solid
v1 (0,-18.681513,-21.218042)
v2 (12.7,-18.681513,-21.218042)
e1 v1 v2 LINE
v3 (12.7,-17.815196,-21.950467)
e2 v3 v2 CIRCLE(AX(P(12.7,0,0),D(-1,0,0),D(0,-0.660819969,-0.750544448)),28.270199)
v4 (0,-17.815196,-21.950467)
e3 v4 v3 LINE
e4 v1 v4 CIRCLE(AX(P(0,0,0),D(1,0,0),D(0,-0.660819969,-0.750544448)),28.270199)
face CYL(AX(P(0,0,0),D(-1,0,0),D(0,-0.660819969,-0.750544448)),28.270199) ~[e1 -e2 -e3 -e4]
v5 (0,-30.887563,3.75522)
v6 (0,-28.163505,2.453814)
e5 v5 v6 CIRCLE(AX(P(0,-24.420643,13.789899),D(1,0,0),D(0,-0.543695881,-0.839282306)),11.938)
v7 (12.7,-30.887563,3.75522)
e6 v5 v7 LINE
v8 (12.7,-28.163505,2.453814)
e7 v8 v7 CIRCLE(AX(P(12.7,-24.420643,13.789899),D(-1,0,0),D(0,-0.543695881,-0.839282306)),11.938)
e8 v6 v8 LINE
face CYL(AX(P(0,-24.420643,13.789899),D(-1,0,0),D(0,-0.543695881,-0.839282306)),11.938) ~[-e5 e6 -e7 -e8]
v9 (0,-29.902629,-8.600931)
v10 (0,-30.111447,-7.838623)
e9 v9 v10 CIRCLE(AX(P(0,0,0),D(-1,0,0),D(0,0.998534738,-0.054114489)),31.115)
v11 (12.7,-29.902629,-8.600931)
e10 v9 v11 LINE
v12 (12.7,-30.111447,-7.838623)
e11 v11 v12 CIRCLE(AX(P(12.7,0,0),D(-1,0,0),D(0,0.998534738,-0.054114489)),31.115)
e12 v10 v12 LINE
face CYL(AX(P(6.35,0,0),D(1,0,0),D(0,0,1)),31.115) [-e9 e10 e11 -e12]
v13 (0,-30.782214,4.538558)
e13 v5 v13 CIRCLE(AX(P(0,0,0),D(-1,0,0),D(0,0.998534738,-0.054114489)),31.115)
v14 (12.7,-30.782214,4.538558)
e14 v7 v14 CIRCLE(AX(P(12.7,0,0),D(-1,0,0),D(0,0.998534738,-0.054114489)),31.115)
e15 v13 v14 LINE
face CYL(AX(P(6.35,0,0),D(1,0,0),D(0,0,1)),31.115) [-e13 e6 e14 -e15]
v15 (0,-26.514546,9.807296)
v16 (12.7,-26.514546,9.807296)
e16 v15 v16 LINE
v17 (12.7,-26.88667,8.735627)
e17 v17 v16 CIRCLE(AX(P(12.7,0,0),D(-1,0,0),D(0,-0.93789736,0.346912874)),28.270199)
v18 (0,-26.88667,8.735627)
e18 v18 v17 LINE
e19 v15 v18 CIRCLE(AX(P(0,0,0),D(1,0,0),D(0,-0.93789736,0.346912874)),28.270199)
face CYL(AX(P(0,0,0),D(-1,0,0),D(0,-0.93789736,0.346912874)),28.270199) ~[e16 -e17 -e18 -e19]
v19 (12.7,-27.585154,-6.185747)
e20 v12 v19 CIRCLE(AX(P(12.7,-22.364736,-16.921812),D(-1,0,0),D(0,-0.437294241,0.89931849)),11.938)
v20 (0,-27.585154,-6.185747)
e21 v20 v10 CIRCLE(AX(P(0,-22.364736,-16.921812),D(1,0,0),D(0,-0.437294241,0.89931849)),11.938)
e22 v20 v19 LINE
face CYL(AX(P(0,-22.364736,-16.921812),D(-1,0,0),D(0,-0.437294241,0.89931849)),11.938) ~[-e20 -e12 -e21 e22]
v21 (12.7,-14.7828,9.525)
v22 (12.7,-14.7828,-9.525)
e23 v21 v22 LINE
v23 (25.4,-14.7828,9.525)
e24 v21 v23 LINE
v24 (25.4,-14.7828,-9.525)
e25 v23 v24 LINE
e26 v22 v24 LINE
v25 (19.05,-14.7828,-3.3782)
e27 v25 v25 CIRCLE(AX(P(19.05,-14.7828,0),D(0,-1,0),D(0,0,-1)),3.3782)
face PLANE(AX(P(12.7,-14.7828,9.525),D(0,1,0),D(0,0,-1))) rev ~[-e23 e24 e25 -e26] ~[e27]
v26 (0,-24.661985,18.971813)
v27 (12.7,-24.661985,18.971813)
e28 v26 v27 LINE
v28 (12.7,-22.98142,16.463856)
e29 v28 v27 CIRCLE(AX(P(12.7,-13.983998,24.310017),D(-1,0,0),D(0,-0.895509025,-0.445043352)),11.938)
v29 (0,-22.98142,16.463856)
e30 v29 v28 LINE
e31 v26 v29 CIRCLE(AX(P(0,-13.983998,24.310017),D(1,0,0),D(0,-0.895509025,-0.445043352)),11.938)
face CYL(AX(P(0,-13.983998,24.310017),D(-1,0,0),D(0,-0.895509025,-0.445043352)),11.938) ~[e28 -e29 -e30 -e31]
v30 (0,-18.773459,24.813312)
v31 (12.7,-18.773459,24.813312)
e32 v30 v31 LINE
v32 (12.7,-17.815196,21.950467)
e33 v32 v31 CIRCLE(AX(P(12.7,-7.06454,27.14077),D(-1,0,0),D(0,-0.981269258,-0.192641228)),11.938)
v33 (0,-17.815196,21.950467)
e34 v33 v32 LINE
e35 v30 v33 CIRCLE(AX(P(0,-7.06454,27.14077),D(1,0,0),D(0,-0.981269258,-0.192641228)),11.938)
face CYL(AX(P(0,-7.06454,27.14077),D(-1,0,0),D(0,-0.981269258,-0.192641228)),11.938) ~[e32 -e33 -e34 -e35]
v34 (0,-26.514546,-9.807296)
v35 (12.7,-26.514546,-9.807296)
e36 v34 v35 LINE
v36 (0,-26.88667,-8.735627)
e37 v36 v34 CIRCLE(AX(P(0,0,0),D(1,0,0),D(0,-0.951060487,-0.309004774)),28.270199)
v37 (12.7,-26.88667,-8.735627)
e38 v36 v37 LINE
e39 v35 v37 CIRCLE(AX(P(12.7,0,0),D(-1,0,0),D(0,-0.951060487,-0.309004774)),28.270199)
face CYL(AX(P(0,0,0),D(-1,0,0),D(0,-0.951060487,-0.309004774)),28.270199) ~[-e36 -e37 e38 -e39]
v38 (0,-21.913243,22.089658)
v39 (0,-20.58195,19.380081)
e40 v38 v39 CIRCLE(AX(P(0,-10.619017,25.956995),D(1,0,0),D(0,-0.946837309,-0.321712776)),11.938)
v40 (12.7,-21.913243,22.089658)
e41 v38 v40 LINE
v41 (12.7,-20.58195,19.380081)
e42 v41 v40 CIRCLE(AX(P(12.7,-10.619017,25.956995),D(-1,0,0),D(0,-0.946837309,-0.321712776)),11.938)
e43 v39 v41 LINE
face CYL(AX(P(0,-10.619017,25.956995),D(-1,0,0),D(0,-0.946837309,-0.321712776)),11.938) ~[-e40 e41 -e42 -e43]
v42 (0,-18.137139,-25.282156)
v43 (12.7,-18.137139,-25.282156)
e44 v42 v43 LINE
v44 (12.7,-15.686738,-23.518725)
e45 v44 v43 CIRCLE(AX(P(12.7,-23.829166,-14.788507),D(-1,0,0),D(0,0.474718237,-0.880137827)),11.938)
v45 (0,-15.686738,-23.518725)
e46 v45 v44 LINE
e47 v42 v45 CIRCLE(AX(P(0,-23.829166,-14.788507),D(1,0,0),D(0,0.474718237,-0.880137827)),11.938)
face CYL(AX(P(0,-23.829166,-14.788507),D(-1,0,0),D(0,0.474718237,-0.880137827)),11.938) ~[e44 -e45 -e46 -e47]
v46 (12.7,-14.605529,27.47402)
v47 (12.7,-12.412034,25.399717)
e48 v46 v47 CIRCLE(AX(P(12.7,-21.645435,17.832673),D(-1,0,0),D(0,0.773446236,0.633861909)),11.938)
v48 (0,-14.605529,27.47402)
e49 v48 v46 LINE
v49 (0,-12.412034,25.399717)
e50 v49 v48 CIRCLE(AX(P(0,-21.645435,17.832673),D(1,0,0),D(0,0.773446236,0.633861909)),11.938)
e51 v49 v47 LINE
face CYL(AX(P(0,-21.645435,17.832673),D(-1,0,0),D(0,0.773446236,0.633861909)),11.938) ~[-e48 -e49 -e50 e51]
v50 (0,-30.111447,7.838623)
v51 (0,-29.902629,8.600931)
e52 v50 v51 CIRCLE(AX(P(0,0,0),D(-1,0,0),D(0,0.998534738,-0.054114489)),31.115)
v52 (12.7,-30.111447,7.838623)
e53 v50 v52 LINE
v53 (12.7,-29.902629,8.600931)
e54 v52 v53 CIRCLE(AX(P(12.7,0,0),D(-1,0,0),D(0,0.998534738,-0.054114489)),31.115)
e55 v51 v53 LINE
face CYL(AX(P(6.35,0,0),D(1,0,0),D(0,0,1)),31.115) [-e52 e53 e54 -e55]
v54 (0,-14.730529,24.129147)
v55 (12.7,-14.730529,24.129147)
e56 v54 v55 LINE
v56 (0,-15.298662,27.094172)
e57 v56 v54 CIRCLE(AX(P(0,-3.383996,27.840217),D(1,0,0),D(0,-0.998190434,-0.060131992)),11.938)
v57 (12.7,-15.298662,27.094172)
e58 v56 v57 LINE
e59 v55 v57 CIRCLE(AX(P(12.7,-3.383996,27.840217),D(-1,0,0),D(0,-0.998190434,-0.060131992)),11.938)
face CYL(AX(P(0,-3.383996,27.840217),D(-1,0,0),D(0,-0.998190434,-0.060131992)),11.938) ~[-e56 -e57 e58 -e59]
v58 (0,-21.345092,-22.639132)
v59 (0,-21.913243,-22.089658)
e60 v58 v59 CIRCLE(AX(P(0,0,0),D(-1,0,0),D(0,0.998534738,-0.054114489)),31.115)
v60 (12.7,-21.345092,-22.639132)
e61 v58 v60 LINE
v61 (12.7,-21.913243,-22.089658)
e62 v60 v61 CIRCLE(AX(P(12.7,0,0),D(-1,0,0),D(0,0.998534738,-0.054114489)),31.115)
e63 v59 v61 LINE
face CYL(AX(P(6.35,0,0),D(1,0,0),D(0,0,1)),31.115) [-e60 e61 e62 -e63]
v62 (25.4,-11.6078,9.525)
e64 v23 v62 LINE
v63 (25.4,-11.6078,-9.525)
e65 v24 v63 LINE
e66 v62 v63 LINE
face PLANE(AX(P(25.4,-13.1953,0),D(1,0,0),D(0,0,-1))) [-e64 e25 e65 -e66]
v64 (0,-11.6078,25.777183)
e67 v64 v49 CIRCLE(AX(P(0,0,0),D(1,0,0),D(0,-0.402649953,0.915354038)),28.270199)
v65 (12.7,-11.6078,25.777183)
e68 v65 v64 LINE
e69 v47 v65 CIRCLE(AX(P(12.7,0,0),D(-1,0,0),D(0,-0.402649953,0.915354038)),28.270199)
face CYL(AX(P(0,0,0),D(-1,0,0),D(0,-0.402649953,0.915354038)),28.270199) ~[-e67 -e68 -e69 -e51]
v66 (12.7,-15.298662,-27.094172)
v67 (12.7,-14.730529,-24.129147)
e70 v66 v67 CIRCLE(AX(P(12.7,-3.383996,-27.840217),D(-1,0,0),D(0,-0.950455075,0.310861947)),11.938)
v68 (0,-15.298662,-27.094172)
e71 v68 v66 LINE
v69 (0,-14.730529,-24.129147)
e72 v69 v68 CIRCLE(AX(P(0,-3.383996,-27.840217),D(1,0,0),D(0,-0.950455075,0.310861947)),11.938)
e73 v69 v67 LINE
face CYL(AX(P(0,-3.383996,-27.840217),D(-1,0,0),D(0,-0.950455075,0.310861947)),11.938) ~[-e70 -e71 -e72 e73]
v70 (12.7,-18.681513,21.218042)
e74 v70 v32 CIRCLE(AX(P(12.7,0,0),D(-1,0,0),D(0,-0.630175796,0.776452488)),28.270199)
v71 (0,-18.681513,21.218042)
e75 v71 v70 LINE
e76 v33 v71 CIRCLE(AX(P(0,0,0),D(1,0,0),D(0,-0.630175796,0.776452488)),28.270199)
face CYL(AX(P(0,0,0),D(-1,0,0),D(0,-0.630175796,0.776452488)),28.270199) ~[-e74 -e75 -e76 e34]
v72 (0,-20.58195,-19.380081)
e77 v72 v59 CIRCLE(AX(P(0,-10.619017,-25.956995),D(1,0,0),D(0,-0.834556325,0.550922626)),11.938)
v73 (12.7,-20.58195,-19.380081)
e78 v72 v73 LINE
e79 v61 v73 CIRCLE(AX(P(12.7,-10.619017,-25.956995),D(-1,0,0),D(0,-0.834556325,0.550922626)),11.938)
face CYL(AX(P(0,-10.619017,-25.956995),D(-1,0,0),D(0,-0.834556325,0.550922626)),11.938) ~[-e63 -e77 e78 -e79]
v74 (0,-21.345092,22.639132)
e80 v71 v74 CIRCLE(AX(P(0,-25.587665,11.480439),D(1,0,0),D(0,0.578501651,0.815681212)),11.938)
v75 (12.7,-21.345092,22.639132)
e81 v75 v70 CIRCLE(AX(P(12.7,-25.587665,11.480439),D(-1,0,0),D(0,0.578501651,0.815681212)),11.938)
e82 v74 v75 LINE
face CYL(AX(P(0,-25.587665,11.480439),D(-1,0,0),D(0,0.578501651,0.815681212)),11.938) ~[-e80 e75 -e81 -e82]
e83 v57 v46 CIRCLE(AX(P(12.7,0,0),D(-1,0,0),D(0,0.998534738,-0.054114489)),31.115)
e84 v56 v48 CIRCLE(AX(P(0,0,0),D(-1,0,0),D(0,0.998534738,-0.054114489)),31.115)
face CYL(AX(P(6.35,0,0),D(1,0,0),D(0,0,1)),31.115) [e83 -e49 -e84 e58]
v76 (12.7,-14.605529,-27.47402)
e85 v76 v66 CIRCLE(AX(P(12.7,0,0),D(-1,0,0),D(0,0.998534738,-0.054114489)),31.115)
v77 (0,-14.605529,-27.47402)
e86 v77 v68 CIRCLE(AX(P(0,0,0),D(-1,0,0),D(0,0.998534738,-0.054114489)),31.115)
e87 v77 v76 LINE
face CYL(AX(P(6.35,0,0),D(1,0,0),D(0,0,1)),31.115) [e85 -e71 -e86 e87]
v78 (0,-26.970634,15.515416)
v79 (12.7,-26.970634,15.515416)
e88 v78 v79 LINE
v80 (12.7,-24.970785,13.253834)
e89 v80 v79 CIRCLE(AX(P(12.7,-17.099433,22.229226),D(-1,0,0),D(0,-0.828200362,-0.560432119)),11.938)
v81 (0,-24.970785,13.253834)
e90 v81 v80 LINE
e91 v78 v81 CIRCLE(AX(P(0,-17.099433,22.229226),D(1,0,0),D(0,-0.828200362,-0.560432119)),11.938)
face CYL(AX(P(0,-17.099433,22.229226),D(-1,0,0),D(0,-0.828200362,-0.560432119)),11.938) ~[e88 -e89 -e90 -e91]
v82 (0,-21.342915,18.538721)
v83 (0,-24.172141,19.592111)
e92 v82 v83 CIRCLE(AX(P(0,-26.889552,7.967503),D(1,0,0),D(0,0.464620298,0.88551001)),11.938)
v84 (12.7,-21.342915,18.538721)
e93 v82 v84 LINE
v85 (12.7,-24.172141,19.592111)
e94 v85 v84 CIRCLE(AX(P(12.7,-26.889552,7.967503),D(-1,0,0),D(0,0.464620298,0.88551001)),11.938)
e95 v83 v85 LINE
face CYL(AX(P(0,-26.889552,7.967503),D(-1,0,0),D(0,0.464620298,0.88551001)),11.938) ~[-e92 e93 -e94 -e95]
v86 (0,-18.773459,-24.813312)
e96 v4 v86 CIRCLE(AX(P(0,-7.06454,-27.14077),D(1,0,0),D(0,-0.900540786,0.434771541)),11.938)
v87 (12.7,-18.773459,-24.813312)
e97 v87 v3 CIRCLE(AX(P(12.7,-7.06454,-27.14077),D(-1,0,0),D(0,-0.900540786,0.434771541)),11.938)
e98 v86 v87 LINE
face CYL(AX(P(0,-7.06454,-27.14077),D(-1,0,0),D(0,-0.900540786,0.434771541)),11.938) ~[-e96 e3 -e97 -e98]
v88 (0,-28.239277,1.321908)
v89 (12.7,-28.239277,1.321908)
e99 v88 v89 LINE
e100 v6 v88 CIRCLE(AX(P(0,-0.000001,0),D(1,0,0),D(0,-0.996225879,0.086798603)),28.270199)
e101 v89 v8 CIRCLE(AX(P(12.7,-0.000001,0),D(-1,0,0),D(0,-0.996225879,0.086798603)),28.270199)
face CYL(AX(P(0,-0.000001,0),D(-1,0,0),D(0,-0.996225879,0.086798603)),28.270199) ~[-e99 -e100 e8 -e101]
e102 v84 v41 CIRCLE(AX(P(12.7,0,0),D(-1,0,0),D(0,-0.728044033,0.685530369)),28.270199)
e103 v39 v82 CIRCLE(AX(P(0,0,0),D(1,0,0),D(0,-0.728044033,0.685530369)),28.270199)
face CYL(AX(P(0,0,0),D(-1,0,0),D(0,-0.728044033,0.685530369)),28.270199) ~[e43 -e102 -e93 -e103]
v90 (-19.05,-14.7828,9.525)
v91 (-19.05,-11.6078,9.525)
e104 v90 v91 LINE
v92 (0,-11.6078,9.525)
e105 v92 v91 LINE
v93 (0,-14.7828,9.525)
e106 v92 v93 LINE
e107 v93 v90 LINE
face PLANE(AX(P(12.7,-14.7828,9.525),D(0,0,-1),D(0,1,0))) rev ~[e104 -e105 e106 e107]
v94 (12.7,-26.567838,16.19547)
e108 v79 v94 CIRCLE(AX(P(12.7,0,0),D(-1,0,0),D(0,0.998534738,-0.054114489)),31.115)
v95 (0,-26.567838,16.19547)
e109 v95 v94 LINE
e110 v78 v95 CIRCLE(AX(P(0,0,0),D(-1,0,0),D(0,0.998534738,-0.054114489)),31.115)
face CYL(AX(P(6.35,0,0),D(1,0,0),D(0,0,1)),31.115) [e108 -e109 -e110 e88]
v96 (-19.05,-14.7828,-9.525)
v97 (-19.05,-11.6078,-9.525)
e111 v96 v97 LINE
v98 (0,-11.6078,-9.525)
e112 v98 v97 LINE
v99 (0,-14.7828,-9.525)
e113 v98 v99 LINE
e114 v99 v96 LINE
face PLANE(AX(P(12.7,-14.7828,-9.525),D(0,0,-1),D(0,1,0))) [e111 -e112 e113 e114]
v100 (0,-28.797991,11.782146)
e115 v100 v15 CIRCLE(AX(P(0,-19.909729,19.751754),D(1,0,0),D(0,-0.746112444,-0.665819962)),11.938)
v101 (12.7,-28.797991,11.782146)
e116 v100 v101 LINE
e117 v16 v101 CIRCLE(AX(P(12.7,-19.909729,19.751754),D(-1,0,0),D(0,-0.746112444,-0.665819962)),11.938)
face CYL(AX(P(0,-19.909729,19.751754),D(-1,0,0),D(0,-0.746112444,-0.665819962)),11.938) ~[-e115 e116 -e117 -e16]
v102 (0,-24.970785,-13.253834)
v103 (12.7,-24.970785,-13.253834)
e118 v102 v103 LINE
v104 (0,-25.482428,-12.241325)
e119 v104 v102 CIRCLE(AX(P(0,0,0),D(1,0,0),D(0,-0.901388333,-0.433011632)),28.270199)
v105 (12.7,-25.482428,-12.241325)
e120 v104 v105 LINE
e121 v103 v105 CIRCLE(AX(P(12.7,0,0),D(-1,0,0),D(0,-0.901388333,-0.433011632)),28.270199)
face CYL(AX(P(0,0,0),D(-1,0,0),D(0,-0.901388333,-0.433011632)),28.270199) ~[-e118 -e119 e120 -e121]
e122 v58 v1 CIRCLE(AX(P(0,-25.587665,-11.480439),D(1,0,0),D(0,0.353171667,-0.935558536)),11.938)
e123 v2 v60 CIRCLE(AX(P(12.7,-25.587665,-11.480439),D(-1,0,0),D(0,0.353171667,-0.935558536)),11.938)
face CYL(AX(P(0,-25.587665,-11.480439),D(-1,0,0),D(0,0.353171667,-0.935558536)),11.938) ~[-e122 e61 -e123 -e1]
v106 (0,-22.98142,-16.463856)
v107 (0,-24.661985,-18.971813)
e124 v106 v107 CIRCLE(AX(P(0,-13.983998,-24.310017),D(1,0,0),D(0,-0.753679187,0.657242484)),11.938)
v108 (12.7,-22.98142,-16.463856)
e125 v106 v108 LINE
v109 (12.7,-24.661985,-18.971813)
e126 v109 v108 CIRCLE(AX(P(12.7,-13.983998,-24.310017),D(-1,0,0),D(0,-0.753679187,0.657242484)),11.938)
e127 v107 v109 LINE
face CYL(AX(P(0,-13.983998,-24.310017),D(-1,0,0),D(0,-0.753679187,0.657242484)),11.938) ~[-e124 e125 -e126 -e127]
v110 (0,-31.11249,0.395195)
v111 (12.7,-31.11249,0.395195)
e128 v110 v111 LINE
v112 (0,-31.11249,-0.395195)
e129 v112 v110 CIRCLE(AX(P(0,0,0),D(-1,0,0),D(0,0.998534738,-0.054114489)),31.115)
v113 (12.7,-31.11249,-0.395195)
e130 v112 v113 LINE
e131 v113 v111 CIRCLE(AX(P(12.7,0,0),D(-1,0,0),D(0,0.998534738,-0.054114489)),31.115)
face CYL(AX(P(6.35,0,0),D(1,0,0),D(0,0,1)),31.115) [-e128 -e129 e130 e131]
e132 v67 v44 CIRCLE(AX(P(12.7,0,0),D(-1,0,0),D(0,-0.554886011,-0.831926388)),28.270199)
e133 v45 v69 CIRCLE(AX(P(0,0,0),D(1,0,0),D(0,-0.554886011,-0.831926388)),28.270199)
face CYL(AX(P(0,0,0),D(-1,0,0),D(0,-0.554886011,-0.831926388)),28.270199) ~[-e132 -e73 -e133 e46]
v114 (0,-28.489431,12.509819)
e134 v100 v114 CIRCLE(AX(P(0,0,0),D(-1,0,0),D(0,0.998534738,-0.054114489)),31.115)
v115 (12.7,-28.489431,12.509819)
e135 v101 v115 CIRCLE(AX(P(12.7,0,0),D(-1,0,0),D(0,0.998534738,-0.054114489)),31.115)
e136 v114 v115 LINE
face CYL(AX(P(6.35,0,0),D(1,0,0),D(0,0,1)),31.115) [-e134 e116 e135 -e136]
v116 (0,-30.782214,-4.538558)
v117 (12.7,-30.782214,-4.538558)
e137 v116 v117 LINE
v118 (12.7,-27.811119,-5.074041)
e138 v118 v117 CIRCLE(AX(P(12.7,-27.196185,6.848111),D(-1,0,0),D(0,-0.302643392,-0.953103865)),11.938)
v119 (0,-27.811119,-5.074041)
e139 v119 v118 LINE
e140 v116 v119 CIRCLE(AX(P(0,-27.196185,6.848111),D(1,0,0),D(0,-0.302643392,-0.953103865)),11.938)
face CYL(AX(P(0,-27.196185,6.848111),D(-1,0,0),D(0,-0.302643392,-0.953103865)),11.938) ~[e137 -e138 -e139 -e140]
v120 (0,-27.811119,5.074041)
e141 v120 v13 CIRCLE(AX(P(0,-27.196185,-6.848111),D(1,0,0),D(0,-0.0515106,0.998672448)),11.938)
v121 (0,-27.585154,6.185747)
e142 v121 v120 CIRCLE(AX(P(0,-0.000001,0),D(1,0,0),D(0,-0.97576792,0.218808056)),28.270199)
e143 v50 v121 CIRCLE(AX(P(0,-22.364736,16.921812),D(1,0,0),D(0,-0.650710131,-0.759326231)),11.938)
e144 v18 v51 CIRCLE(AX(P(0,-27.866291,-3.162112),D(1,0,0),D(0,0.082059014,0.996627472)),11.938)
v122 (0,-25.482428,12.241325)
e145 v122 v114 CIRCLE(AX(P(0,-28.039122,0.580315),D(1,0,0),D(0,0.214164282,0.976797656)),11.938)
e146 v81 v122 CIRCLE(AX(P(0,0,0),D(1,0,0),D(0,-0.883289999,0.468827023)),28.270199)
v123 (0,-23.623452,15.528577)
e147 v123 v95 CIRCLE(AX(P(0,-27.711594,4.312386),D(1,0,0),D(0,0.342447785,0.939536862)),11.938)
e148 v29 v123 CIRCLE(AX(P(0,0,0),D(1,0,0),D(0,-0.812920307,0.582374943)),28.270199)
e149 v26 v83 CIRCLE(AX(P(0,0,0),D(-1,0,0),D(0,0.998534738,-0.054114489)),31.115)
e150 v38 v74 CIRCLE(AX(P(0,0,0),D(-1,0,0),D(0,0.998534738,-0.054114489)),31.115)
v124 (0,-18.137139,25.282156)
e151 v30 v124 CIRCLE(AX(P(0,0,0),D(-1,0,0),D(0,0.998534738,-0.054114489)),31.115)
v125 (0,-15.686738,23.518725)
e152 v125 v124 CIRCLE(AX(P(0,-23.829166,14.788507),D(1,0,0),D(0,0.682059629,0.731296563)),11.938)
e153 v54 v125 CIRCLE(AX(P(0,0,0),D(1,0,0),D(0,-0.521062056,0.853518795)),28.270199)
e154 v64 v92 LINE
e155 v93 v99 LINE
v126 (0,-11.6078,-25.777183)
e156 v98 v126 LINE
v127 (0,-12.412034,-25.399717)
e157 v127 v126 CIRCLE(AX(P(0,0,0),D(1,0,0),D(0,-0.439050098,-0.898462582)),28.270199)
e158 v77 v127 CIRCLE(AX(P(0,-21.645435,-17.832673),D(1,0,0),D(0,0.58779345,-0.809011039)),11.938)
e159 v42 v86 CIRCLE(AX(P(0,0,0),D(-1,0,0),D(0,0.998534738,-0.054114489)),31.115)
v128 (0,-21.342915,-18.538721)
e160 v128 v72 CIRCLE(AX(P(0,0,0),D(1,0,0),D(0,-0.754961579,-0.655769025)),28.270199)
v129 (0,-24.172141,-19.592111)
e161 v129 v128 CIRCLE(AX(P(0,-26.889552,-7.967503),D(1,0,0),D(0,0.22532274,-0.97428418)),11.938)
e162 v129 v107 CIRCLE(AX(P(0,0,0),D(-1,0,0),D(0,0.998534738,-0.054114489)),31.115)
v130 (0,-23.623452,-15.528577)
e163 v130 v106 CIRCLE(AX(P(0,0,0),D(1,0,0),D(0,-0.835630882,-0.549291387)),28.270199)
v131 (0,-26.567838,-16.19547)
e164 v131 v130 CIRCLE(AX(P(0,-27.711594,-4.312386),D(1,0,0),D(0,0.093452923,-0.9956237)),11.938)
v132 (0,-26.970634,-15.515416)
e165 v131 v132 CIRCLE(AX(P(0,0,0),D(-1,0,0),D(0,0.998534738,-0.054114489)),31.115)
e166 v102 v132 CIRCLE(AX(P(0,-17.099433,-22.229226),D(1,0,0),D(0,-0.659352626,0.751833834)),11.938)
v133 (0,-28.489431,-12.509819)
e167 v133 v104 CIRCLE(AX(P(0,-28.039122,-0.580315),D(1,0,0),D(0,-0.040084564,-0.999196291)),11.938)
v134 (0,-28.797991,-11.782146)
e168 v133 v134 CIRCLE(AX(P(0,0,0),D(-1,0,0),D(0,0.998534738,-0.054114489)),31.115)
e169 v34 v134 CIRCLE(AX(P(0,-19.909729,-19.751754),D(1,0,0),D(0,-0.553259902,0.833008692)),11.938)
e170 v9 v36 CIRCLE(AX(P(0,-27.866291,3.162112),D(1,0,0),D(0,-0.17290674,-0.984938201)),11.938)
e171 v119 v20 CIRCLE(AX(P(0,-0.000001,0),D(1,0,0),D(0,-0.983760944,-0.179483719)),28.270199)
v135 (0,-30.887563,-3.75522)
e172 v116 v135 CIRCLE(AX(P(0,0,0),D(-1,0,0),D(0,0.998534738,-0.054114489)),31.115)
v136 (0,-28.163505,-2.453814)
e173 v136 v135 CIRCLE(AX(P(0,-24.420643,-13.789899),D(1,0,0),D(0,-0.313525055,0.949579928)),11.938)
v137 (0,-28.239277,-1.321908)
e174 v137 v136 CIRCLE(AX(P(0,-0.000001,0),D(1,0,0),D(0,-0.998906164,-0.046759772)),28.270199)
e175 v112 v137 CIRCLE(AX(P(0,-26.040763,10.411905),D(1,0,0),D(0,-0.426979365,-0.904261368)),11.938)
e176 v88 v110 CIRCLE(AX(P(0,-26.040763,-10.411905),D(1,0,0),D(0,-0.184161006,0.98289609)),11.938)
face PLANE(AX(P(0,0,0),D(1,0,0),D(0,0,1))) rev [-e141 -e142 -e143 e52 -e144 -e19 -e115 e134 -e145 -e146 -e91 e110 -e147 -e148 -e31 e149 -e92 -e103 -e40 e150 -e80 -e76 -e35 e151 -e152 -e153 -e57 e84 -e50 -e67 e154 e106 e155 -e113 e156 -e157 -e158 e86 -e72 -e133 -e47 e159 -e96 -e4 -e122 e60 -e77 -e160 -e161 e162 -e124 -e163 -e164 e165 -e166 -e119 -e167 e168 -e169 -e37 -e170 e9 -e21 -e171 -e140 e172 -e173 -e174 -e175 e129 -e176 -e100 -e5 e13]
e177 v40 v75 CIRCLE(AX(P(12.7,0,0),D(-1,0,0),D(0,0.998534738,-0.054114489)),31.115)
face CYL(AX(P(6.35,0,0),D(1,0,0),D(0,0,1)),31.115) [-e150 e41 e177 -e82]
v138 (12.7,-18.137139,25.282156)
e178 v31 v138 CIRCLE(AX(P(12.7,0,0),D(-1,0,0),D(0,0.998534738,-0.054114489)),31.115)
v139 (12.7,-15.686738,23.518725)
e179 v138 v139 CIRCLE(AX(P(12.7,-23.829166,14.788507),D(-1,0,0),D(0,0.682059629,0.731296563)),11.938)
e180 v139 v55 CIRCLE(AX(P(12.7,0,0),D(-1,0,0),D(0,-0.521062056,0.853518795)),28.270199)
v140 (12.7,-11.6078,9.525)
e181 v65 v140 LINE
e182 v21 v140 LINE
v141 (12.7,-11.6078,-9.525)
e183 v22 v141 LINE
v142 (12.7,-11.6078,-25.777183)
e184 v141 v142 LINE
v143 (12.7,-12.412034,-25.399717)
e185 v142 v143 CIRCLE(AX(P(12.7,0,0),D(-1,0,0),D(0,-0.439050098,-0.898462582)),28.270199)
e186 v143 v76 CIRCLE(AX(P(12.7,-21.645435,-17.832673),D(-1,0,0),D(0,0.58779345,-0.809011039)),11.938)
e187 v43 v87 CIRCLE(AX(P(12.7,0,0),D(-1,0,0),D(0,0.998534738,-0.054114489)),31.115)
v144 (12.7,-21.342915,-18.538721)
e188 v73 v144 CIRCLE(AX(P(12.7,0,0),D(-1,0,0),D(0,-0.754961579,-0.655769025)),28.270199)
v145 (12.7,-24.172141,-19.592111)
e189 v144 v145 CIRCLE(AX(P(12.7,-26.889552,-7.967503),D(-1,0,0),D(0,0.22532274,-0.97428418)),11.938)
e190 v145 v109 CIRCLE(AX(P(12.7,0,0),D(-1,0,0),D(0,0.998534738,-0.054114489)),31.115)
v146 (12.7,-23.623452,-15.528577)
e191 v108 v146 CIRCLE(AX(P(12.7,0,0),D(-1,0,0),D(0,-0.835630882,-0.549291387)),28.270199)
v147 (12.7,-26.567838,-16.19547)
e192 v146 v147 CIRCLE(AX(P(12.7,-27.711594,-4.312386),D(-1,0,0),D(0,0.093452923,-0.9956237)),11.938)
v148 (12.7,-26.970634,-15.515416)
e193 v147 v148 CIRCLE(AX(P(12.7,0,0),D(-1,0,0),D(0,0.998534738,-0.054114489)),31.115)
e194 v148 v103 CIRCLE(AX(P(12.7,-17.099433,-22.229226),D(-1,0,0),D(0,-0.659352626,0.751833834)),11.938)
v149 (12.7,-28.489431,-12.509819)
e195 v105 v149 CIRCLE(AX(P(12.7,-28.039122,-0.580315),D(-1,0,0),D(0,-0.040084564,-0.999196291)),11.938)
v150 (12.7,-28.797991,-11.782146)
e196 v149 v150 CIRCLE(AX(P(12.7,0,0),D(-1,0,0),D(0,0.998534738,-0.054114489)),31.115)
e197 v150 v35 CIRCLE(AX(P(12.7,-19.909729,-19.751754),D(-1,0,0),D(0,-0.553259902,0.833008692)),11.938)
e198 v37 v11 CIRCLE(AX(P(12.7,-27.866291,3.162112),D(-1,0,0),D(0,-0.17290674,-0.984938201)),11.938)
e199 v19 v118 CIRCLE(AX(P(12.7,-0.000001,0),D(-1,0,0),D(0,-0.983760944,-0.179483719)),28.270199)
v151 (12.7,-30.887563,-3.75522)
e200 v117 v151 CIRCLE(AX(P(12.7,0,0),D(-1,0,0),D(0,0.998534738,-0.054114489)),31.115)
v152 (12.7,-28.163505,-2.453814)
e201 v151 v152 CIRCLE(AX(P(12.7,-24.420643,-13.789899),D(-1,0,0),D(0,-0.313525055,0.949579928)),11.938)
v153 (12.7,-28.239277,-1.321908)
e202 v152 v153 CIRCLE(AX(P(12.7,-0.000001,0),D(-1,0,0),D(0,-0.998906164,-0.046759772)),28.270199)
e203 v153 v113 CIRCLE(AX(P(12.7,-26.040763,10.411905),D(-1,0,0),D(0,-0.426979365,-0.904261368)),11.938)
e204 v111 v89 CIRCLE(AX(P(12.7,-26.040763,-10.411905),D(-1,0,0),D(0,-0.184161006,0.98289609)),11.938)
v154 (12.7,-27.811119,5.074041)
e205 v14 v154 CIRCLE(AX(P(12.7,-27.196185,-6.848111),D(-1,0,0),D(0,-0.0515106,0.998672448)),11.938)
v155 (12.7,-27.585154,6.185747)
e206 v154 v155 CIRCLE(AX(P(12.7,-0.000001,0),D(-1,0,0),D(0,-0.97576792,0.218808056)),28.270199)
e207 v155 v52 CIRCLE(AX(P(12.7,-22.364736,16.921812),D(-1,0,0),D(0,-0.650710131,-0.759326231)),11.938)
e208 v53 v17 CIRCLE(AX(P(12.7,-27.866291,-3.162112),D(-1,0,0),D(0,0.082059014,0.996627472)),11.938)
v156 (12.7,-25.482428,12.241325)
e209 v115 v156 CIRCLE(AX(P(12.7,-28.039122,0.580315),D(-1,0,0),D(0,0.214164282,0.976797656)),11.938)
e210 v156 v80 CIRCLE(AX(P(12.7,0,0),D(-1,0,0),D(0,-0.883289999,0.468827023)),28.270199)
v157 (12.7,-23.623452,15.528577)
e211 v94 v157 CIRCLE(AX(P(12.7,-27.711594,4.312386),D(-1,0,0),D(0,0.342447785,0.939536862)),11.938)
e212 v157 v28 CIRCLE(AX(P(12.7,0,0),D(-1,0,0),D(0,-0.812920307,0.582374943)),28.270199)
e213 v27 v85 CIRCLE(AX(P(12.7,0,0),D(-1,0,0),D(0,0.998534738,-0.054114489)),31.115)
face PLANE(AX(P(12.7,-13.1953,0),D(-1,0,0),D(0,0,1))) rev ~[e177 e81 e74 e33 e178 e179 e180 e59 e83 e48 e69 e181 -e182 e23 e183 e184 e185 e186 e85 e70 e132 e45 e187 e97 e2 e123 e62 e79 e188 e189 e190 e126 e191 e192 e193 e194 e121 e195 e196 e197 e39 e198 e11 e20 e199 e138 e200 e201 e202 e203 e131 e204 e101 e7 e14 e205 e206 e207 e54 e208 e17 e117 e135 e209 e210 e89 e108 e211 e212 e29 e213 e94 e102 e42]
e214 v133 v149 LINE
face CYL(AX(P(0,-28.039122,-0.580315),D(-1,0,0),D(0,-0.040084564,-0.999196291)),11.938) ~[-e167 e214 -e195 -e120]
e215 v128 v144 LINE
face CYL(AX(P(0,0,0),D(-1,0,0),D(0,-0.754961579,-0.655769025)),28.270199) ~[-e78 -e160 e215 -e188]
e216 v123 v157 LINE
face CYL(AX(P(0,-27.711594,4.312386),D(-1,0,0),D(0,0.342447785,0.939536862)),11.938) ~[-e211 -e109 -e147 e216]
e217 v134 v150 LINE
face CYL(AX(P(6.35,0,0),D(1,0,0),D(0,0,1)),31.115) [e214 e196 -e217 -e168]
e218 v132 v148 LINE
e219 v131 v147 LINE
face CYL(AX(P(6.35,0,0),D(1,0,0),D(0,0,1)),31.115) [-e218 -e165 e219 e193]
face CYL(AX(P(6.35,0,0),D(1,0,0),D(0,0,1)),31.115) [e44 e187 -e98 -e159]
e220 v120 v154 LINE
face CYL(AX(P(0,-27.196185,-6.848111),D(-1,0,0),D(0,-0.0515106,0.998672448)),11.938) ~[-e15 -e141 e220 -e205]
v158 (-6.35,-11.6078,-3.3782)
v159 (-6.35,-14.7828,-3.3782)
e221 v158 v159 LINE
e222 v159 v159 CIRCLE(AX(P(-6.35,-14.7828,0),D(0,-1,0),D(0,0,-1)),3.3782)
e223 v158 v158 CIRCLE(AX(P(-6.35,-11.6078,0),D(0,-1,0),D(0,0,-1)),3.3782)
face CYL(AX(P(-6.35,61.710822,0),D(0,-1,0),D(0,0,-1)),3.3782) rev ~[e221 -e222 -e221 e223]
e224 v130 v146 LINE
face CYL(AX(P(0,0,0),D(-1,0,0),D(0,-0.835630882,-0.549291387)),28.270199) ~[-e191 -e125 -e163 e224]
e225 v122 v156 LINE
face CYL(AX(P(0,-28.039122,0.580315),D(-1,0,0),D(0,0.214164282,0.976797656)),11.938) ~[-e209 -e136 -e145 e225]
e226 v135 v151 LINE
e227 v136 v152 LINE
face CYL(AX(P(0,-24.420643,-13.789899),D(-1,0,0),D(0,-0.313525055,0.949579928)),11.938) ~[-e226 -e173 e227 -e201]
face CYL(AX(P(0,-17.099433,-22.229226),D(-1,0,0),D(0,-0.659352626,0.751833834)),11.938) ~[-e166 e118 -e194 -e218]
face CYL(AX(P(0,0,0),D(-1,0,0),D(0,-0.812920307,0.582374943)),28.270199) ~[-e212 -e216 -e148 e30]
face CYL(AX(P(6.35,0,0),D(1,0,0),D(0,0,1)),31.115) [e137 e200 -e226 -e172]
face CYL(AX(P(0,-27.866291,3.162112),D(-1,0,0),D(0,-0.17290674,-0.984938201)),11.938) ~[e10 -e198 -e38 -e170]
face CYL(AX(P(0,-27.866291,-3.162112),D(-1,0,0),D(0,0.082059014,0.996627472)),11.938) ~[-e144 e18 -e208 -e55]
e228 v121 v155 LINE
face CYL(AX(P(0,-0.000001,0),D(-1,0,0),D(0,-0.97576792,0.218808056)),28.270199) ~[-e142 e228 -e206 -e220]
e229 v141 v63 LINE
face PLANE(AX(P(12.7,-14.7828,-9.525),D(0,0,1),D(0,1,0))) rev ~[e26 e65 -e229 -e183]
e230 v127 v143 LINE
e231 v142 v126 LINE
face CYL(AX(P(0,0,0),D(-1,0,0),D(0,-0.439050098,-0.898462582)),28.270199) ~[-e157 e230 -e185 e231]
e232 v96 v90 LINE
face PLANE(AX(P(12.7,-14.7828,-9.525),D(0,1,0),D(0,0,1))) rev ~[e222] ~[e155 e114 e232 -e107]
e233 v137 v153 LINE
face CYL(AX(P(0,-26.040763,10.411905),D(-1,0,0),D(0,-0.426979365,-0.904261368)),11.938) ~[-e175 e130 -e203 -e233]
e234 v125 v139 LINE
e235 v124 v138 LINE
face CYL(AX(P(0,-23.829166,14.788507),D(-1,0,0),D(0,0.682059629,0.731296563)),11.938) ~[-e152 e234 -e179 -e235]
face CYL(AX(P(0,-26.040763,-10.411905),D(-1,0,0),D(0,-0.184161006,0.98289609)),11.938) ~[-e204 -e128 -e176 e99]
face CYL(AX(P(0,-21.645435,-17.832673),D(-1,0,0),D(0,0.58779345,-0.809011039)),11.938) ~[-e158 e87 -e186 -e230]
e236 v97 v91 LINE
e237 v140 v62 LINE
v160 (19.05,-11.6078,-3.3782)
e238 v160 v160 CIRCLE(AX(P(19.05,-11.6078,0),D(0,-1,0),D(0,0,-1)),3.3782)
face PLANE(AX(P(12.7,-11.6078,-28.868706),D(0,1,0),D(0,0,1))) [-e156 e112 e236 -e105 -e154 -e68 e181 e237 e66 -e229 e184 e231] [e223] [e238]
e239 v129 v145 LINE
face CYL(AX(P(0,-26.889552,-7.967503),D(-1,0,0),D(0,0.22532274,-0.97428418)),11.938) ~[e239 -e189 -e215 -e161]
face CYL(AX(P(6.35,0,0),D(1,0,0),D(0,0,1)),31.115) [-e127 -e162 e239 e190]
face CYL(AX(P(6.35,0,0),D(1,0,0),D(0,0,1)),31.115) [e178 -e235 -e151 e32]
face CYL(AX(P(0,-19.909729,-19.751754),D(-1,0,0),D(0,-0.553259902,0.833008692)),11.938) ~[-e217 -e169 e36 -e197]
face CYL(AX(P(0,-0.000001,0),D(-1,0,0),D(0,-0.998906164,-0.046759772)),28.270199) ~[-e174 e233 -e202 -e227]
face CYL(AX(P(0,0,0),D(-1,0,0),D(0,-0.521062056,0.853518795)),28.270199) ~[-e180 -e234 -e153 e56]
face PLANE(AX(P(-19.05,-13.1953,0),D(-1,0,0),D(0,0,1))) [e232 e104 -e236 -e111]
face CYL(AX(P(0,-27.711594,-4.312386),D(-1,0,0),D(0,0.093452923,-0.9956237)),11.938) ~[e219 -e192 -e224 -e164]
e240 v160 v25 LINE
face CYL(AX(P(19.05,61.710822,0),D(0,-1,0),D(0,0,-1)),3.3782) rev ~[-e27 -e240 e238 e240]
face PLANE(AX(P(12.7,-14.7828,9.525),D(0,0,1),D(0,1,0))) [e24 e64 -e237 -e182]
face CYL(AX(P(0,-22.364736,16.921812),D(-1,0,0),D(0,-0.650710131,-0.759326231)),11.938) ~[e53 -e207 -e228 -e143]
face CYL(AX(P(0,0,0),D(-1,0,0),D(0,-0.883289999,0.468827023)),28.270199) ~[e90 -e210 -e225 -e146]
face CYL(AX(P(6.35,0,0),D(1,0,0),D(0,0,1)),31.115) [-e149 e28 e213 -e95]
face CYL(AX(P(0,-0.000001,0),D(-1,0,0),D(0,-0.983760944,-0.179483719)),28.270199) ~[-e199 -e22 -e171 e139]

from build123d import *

# Parameters (mm, degrees)
BASPROSKE_W              = 12.7
BASPROSKE_H              = 31.115
TOOTHCUT_DEPTH           = 46.799306217
TEETHCUTS_COUNT          = 47
TEETHCUTS_ANGLE          = 352.340425532
BORSKE_R                 = 1.5875
BORE_DEPTH               = 50.8000508
CUT_EXTRUDE2_DEPTH       = 46.794769115
BOSS_EXTRUDE1_DEPTH      = 19.05
BOSS_EXTRUDE1_DEPTH_BACK = 12.7
SKETCH2_W                = 19.05
SKETCH2_H                = 3.175
SKETCH4_W                = 19.05
SKETCH4_H                = 3.175
BOSS_EXTRUDE2_DEPTH      = 12.7
F_1_4_CLEARANCE_HOLE1_D  = 6.7564


with BuildPart() as part:
    # BasProSke → Base-Revolve (revolve)
    with BuildSketch(Plane(origin=(0, 0, 0), x_dir=(1, 0, 0), z_dir=(0, 1, 0)), mode=Mode.PRIVATE) as base_revolve_sk:
        with Locations((6.35, 15.5575)):
            Rectangle(BASPROSKE_W, BASPROSKE_H)
    revolve(base_revolve_sk.sketch.rotate(Axis((-10, 0, 0), (1, 0, 0)), 180), axis=Axis((-10, 0, 0), (1, 0, 0)))

    # TooCutSke → ToothCut (cut, through all)
    with BuildSketch(Plane(origin=(0, 0, 0), x_dir=(0, 0, -1), z_dir=(1, 0, 0))):
        with BuildLine():
            ThreePointArc((0.567219539, 28.264509018), (0, 28.2702), (-0.567219539, 28.264509018))
            ThreePointArc((-0.567219539, 28.264509018), (-1.041703705, 29.715512743), (-1.697480705, 31.094100267))
            ThreePointArc((-1.697480705, 31.094100267), (0, 31.1404), (1.697480705, 31.094100267))
            ThreePointArc((1.697480705, 31.094100267), (1.041703705, 29.715512743), (0.567219539, 28.264509018))
        make_face()
    toothcut = extrude(amount=TOOTHCUT_DEPTH, mode=Mode.SUBTRACT)

    # TeethCuts: ToothCut ×47 about axis
    teethcuts_axis = Axis((-10, 0, 0), (1, 0, 0))
    for i in range(1, TEETHCUTS_COUNT):
        add(toothcut.rotate(teethcuts_axis, i * TEETHCUTS_ANGLE / (TEETHCUTS_COUNT - 1)), mode=Mode.SUBTRACT)

    # BorSke → Bore (cut, symmetric)
    with BuildSketch(Plane(origin=(0, 0, 0), x_dir=(0, 0, -1), z_dir=(1, 0, 0))):
        with Locations(Location((0, 0, 0), (0, 0, 180))):
            Circle(BORSKE_R)
    extrude(amount=BORE_DEPTH, both=True, mode=Mode.SUBTRACT)

    # Sketch1 → Cut-Extrude2 (cut, through all)
    with BuildSketch(Plane(origin=(12.7, 0, 0), x_dir=(0, 0, -1), z_dir=(1, 0, 0))):
        with BuildLine():
            Line((28.868706313, -11.6078), (-28.868706313, -11.6078))
            ThreePointArc((-28.868706313, -11.6078), (0, 31.115), (28.868706313, -11.6078))
        make_face()
    extrude(amount=-CUT_EXTRUDE2_DEPTH, mode=Mode.SUBTRACT)

    # Sketch2 → Boss-Extrude1 (add, two sides: drawn at the far end of the back side and taken through both)
    with BuildSketch(Plane.ZY.offset(-BOSS_EXTRUDE1_DEPTH_BACK)):
        with Locations((0, -13.1953)):
            Rectangle(SKETCH2_W, SKETCH2_H)
    extrude(amount=BOSS_EXTRUDE1_DEPTH + BOSS_EXTRUDE1_DEPTH_BACK)

    # Sketch4 → Boss-Extrude2 (add)
    with BuildSketch(Plane(origin=(12.7, 0, 0), x_dir=(0, 0, -1), z_dir=(1, 0, 0))):
        with Locations((0, -13.1953)):
            Rectangle(SKETCH4_W, SKETCH4_H)
    extrude(amount=BOSS_EXTRUDE2_DEPTH)

    # 1/4 Clearance Hole1 (through all)
    with Locations(Plane(origin=(19.05, -11.6078, 0), x_dir=(0, 0, 1), z_dir=(0, 1, 0))):
        with Locations((0, 0), (0, -25.4)):
            Hole(F_1_4_CLEARANCE_HOLE1_D / 2)


solid = part.part
